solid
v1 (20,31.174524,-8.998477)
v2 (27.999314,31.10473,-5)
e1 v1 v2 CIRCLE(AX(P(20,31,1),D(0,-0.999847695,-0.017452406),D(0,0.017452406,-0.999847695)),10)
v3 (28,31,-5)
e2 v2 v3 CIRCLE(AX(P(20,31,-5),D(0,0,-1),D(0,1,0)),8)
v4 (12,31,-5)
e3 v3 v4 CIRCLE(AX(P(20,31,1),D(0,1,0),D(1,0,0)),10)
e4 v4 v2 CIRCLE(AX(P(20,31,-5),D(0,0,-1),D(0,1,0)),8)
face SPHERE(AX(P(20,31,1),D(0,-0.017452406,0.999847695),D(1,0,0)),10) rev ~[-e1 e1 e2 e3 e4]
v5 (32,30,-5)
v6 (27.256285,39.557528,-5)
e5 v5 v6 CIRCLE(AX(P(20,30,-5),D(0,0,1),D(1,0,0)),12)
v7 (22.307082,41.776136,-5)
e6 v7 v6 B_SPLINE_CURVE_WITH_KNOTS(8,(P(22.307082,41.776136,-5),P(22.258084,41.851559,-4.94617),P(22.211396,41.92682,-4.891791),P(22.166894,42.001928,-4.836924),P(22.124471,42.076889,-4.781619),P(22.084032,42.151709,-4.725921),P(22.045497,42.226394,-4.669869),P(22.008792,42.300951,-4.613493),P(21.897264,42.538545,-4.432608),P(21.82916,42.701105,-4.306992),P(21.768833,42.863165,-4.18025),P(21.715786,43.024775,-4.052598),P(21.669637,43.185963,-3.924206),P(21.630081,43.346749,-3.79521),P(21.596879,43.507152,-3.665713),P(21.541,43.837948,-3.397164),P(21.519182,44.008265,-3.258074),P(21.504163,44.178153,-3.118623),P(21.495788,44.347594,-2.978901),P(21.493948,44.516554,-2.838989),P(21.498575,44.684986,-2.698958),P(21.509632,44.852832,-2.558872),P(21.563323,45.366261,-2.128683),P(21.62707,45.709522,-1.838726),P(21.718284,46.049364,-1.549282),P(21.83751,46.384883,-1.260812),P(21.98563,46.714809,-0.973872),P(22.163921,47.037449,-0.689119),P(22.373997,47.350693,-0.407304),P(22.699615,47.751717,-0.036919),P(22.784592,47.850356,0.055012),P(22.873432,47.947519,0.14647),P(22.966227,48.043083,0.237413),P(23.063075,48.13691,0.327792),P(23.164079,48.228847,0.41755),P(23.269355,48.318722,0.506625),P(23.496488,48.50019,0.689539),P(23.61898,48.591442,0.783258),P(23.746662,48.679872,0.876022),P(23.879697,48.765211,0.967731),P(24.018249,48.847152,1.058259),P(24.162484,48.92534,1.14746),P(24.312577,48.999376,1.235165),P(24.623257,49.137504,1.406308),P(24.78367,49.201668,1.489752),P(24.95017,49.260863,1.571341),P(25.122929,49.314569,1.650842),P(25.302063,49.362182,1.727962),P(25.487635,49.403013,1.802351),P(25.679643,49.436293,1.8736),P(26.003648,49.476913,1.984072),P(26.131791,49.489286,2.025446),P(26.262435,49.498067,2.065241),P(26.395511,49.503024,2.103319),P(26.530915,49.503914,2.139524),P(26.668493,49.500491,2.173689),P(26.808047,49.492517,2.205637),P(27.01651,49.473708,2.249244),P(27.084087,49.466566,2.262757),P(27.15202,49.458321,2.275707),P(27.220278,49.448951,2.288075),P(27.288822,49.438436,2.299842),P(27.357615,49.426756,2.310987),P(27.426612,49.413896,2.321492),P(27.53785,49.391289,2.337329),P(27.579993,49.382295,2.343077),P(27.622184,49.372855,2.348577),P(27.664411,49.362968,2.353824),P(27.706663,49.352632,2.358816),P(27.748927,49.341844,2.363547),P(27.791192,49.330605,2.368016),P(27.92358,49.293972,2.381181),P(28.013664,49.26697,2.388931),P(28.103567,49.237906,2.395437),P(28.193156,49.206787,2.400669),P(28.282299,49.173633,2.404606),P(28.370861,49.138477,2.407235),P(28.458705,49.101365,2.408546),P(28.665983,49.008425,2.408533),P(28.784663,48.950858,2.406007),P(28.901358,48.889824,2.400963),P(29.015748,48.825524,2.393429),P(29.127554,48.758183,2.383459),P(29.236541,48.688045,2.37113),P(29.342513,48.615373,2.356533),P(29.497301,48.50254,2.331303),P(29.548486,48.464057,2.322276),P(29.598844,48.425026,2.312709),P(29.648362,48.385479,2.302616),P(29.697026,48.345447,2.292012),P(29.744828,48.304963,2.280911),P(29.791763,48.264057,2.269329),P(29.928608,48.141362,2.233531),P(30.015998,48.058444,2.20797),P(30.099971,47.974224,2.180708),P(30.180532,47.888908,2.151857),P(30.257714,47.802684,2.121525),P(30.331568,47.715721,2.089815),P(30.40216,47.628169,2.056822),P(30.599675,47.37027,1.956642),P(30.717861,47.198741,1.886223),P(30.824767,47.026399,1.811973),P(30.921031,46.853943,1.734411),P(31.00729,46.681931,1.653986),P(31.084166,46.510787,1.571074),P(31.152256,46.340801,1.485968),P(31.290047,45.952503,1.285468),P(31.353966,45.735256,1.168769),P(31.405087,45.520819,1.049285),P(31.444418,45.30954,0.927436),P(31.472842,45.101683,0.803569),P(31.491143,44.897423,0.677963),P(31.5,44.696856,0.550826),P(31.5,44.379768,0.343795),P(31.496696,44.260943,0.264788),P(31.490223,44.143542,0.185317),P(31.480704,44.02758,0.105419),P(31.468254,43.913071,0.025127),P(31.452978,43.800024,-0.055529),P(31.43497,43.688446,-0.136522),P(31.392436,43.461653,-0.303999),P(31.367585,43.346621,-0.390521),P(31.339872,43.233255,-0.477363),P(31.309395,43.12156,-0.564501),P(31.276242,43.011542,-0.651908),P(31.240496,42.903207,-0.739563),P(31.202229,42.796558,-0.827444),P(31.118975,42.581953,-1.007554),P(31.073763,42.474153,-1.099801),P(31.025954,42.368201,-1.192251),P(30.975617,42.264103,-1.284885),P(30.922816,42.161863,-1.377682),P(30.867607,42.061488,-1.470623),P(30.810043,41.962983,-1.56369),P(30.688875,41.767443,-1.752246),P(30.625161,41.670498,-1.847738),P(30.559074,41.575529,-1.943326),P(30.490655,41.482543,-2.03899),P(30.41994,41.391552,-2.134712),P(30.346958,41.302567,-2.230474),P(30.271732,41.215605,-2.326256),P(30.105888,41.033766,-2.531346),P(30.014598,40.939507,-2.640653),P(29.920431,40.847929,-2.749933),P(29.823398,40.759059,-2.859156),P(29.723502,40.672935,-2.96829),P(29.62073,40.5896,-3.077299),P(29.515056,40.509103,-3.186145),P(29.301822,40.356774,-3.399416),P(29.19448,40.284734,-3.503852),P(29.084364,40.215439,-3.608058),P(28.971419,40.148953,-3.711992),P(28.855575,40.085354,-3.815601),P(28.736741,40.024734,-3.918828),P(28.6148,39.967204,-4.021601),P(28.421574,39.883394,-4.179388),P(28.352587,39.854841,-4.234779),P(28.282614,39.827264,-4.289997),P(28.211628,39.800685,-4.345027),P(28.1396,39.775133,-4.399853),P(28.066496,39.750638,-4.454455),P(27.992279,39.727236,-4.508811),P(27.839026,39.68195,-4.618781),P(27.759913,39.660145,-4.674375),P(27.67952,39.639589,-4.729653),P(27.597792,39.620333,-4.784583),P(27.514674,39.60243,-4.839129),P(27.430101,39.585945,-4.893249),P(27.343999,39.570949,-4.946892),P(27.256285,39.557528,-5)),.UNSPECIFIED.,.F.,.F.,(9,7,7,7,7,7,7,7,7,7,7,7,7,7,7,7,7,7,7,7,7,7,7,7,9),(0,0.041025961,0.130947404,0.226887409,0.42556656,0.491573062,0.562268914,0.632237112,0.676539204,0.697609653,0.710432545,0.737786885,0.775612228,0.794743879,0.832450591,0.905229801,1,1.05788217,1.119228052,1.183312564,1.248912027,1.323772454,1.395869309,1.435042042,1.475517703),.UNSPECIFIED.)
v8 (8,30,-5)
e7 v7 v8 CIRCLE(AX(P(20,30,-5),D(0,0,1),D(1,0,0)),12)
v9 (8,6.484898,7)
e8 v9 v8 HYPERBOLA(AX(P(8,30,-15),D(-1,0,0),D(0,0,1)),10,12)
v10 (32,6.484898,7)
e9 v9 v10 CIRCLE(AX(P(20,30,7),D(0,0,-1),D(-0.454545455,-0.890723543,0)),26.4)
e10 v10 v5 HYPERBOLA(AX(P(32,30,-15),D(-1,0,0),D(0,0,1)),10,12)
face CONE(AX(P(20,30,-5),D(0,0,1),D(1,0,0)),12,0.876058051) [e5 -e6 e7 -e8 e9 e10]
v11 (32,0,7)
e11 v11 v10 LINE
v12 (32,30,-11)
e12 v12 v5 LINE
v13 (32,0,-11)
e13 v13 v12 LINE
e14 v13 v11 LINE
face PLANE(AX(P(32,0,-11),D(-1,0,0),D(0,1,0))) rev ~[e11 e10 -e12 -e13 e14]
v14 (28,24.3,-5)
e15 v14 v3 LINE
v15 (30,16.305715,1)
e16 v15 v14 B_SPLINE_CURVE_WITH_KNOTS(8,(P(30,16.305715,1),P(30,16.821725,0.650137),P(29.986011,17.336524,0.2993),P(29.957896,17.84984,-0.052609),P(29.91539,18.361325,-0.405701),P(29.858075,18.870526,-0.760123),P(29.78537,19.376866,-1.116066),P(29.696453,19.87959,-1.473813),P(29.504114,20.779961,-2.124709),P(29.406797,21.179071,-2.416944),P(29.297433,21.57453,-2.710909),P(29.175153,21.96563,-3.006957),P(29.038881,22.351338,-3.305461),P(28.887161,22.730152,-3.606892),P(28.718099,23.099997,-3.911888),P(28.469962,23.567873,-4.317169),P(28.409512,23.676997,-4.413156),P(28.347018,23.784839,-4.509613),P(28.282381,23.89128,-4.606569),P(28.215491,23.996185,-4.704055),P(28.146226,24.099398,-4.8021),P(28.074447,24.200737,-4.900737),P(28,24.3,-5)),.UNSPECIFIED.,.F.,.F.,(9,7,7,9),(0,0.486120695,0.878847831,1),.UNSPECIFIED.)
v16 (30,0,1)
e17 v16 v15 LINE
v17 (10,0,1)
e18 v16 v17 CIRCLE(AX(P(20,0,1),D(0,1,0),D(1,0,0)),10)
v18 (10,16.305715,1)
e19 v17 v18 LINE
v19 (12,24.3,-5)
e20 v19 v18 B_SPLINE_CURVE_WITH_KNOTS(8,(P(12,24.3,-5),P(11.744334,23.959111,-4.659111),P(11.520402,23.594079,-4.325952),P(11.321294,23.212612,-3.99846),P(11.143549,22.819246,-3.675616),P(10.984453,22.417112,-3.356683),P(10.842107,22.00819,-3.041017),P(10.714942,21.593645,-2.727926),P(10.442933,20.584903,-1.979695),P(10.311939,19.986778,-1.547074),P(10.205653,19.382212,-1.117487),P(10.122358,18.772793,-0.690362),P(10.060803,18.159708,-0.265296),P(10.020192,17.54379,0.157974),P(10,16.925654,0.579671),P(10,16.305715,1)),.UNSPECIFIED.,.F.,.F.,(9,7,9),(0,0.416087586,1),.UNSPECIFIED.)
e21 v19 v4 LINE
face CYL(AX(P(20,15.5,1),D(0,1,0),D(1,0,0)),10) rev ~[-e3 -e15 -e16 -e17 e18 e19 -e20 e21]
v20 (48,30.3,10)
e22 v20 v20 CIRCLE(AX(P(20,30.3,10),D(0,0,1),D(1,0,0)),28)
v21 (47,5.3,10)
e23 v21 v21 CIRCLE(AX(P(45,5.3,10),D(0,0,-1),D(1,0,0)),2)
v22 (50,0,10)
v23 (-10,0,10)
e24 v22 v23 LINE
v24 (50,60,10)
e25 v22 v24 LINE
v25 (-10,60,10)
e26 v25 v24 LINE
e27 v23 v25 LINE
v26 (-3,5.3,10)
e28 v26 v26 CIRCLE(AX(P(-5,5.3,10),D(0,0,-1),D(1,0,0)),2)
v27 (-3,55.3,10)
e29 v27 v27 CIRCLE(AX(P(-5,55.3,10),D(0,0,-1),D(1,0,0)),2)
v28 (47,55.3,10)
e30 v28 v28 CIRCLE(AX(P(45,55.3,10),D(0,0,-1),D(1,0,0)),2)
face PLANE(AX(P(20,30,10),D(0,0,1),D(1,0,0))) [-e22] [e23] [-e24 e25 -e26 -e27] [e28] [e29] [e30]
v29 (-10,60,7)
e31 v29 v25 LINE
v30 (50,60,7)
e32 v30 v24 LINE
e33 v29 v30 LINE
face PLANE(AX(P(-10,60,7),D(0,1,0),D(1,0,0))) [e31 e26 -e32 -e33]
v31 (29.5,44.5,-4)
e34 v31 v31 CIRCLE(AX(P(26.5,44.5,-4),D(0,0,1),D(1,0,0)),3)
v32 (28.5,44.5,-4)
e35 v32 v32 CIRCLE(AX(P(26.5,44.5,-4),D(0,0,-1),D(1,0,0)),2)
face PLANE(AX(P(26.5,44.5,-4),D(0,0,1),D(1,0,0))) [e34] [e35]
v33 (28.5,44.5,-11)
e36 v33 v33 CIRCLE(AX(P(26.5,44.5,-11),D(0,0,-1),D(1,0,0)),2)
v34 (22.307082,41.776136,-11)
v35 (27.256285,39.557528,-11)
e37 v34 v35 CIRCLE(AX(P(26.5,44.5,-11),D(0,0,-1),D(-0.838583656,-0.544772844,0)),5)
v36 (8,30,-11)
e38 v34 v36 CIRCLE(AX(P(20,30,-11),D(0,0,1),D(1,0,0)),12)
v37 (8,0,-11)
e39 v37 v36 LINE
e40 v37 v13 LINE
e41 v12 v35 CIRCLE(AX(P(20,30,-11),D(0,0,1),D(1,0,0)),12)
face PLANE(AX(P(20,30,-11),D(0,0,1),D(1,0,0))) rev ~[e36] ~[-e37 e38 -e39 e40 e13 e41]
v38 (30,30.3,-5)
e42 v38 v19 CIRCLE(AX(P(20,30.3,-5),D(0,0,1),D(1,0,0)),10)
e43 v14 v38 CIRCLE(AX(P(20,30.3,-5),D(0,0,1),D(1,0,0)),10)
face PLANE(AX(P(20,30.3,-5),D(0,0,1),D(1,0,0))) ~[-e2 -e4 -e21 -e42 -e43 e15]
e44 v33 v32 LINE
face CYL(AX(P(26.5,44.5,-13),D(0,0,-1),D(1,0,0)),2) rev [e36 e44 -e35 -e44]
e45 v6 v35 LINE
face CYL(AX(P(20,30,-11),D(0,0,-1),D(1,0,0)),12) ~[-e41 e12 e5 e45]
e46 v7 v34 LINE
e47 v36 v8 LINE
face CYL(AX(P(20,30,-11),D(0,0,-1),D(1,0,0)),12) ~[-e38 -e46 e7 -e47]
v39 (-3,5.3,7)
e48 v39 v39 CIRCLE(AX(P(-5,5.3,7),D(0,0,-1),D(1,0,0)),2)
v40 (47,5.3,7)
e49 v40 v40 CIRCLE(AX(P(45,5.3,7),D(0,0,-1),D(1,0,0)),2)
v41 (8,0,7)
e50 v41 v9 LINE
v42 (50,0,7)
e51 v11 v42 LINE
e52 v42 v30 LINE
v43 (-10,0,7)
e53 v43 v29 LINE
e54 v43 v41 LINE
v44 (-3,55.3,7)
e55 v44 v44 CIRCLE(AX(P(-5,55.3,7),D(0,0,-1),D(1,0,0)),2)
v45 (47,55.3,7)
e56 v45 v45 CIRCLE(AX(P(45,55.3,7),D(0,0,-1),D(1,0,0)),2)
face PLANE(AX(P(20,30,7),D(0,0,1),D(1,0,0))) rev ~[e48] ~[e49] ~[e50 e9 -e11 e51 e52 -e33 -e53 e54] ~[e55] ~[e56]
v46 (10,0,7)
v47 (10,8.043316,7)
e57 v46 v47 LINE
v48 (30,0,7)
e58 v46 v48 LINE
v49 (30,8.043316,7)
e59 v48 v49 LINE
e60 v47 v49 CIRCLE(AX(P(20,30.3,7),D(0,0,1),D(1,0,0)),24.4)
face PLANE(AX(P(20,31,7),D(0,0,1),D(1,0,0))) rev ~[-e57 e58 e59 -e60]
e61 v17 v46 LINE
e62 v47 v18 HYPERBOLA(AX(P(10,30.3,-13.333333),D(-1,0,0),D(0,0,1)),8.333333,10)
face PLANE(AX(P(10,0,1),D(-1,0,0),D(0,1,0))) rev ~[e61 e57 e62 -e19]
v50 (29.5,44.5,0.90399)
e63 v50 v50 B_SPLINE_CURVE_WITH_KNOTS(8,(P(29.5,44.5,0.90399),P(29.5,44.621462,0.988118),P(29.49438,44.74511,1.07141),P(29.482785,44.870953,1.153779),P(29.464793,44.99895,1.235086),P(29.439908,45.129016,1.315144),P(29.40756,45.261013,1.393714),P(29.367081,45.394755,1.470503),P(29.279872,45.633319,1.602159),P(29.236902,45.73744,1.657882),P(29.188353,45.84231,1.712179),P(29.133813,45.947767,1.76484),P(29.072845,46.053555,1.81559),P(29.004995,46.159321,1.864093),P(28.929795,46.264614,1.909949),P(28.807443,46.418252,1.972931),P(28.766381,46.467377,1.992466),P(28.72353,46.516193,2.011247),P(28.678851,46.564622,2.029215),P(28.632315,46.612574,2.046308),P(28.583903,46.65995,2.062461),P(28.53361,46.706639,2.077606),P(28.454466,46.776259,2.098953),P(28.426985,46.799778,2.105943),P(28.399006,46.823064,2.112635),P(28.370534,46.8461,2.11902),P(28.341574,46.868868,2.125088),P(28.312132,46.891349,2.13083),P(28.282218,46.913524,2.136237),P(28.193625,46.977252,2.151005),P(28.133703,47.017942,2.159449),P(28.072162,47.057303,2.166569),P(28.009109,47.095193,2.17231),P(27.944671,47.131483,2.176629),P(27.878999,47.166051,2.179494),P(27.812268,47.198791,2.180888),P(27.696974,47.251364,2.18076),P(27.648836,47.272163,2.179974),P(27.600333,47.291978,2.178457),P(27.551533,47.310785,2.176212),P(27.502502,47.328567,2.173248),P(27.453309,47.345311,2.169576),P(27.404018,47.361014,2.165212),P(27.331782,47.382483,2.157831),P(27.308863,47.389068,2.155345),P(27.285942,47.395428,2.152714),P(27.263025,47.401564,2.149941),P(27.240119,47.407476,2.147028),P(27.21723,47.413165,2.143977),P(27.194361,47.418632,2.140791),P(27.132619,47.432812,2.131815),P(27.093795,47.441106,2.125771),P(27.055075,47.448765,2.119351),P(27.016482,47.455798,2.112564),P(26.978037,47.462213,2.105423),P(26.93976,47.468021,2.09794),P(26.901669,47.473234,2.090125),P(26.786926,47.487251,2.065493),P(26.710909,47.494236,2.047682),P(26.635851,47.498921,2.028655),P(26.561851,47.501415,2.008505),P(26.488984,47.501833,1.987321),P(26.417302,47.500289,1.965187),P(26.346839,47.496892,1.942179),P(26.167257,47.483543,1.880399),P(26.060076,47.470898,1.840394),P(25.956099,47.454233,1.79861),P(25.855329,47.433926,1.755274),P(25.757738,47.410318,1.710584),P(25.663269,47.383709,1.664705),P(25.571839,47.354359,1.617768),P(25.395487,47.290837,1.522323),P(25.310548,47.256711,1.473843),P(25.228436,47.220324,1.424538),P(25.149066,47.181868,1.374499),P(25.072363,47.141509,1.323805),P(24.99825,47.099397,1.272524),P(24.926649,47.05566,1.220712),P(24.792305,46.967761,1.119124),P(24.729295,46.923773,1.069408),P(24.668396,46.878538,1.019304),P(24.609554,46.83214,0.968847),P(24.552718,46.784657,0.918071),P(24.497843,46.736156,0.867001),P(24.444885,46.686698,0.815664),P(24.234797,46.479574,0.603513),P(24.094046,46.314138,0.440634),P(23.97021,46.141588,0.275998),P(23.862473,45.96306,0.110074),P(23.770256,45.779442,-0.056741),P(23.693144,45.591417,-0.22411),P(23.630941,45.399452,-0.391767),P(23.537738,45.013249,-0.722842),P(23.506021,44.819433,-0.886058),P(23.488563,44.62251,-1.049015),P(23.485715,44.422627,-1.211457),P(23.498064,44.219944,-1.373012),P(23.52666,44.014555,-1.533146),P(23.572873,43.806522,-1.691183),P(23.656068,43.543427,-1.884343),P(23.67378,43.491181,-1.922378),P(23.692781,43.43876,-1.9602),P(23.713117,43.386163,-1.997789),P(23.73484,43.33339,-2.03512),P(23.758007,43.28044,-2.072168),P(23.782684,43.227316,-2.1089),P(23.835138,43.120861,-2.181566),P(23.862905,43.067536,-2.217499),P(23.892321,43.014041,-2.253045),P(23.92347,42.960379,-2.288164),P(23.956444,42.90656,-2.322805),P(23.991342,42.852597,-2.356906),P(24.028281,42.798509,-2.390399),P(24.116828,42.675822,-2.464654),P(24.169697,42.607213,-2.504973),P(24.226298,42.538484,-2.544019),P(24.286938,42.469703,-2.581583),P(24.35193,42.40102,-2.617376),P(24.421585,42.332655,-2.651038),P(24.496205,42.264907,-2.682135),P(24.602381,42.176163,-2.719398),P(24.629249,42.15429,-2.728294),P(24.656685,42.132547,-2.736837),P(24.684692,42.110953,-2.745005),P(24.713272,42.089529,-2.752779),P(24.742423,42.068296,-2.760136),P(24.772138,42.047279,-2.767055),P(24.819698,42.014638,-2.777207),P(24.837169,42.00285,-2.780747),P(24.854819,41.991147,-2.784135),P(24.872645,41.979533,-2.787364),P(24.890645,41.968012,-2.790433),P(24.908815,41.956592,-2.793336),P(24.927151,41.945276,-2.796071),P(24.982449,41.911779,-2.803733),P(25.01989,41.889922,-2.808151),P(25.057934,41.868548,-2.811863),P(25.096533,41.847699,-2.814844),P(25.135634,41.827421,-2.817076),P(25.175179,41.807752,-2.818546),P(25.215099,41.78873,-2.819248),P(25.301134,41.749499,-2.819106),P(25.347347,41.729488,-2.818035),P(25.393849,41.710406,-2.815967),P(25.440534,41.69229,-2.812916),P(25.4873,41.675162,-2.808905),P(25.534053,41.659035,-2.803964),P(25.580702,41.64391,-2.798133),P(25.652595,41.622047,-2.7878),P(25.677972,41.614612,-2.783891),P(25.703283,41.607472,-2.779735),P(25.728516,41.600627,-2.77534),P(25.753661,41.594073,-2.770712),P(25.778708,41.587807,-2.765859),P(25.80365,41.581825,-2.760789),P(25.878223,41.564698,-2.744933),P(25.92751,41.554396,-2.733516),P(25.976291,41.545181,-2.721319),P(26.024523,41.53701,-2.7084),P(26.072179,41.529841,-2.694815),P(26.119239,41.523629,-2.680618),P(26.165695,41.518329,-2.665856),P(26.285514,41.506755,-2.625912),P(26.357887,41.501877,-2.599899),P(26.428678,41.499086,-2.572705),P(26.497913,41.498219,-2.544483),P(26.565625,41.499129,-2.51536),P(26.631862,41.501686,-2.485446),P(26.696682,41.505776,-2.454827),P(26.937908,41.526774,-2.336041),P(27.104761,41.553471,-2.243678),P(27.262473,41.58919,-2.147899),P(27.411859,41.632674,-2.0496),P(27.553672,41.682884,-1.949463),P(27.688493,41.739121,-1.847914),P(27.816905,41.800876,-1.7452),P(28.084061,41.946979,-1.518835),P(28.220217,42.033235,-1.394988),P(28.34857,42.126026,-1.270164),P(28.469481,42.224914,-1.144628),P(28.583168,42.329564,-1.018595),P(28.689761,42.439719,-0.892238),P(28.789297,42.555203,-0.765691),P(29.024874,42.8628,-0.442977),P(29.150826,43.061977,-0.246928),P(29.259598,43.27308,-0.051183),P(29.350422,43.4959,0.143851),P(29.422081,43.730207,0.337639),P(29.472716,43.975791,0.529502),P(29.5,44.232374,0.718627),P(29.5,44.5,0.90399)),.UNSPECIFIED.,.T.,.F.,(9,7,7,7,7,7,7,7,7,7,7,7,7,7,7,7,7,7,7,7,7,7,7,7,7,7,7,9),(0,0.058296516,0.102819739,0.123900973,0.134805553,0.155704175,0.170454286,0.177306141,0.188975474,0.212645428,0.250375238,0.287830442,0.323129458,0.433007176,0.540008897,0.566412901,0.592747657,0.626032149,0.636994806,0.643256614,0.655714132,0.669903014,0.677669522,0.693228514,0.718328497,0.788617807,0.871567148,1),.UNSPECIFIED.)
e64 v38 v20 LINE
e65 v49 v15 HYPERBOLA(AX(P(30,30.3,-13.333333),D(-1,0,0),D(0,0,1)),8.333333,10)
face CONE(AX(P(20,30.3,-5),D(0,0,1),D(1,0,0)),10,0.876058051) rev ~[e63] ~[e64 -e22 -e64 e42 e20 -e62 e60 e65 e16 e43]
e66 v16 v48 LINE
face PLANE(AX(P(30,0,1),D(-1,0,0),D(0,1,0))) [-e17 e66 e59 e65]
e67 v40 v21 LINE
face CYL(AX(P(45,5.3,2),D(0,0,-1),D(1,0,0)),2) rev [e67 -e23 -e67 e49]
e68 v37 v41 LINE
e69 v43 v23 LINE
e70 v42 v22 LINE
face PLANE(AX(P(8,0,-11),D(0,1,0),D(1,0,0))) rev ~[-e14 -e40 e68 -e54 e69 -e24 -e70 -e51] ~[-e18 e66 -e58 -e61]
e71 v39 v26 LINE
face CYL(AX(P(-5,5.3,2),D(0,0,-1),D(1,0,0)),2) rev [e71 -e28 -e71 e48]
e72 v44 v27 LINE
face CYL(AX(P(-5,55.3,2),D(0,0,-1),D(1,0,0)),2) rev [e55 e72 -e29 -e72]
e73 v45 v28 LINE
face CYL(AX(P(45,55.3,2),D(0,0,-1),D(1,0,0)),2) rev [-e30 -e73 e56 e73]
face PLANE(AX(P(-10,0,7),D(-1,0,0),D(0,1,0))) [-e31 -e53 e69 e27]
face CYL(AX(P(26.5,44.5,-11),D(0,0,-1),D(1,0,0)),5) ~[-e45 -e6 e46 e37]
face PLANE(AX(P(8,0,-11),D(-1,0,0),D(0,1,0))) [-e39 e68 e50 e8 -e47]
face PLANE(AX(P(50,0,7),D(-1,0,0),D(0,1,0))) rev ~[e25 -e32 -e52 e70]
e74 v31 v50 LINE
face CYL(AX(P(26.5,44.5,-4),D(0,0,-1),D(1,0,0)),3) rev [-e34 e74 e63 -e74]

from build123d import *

# Parameters (mm, degrees)
CYLINDER002003_R     = 2
CYLINDER002003_DEPTH = 30
CYLINDER002004_R     = 3
CYLINDER002004_DEPTH = 11
CYLINDER_W           = 10
CYLINDER_H           = 31
CYLINDER_ANGLE       = 180
CYLINDER_ROLL_ANGLE  = -90
CYLINDER002006_R     = 10
CYLINDER002006_DEPTH = 6
SPHERE001_ROLL_ANGLE = 1
BOX008_W             = 20
BOX008_H             = 31
BOX008_DEPTH         = 6
CYLINDER006_R        = 2
CYLINDER006_DEPTH    = 10
CYLINDER008_R        = 2
CYLINDER008_DEPTH    = 10
CYLINDER007_R        = 2
CYLINDER007_DEPTH    = 10
CYLINDER005_R        = 2
CYLINDER005_DEPTH    = 10
CYLINDER001_R        = 12
CYLINDER001_DEPTH    = 12
BOX003_W             = 24
BOX003_H             = 30
BOX003_DEPTH         = 18
BOX_W                = 60
BOX_H                = 60
BOX_DEPTH            = 3
CYLINDER002002_R     = 5
CYLINDER002002_DEPTH = 15


with BuildPart() as haltebohrungoben:
    # Cylinder002003 → Cylinder002003 (new body)
    with BuildSketch(Plane(origin=(26.5, 44.5, -13), x_dir=(1, 0, 0), z_dir=(0, 0, 1))):
        Circle(CYLINDER002003_R)
    extrude(amount=CYLINDER002003_DEPTH)


with BuildPart() as schnittkegel:
    # Cone003 → Cone003 (revolve)
    with BuildSketch(Plane(origin=(20, 30.3, -5), x_dir=(1, 0, 0), z_dir=(0, -1, 0))):
        Polygon((0, 0), (10, 0), (28, 15), (0, 15), align=None)
    revolve(axis=Axis((20, 30.3, -5), (0, 0, 1)))


with BuildPart() as haltesenkeoben:
    # Cylinder002004 → Cylinder002004 (new body)
    with BuildSketch(Plane(origin=(26.5, 44.5, -4), x_dir=(1, 0, 0), z_dir=(0, 0, 1))):
        Circle(CYLINDER002004_R)
    extrude(amount=CYLINDER002004_DEPTH)


with BuildPart() as zylinder:
    # Cylinder → Cylinder (revolve)
    with BuildSketch(Plane.XZ):
        with Locations((5, 15.5)):
            Rectangle(CYLINDER_W, CYLINDER_H)
    revolve(axis=Axis((0, 0, 0), (0, 0, 1)), revolution_arc=CYLINDER_ANGLE)


with BuildPart() as zylinder_1:
    # Cylinder roll: moved
    add(zylinder.part.rotate(Axis((0, 0, 0), (1, 0, 0)), CYLINDER_ROLL_ANGLE))


with BuildPart() as zylinder_2:
    # Cylinder placement: moved
    add(zylinder_1.part.moved(Location((20, -11, 1))))


with BuildPart() as zylinder014:
    # Cylinder002006 → Cylinder002006 (new body)
    with BuildSketch(Plane(origin=(20, 20, 1), x_dir=(1, 0, 0), z_dir=(0, 0, 1))):
        Circle(CYLINDER002006_R)
    extrude(amount=CYLINDER002006_DEPTH)


with BuildPart() as kugel001:
    # Sphere001 → Sphere001 (revolve)
    with BuildSketch(Plane.XZ):
        with BuildLine():
            ThreePointArc((0, -10), (10, 0), (0, 10))
            Line((0, 10), (0, -10))
        make_face()
    revolve(axis=Axis((0, 0, 0), (0, 0, 1)))


with BuildPart() as kugel001_1:
    # Sphere001 roll: moved
    add(kugel001.part.rotate(Axis((0, 0, 0), (1, 0, 0)), SPHERE001_ROLL_ANGLE))


with BuildPart() as kugel001_2:
    # Sphere001 placement: moved
    add(kugel001_1.part.moved(Location((20, 20, 1))))


with BuildPart() as luftschacht:
    # Box008 → Box008 (new body)
    with BuildSketch(Plane(origin=(10, -11, 1), x_dir=(1, 0, 0), z_dir=(0, 0, 1))):
        with Locations((10, 15.5)):
            Rectangle(BOX008_W, BOX008_H)
    extrude(amount=BOX008_DEPTH)

    # Fusion011: union Zylinder, Zylinder014, Kugel001
    add(zylinder_2.part)
    add(zylinder014.part)
    add(kugel001_2.part)


with BuildPart() as luftschacht_1:
    # Fusion011 placement: moved
    add(luftschacht.part.moved(Location((0, 11, 0))))


with BuildPart() as zylinder006:
    # Cylinder006 → Cylinder006 (new body)
    with BuildSketch(Plane(origin=(0, 50, 0), x_dir=(1, 0, 0), z_dir=(0, 0, 1))):
        Circle(CYLINDER006_R)
    extrude(amount=CYLINDER006_DEPTH)


with BuildPart() as zylinder008:
    # Cylinder008 → Cylinder008 (new body)
    with BuildSketch(Plane(origin=(50, 50, 0), x_dir=(1, 0, 0), z_dir=(0, 0, 1))):
        Circle(CYLINDER008_R)
    extrude(amount=CYLINDER008_DEPTH)


with BuildPart() as zylinder007:
    # Cylinder007 → Cylinder007 (new body)
    with BuildSketch(Plane(origin=(50, 0, 0), x_dir=(1, 0, 0), z_dir=(0, 0, 1))):
        Circle(CYLINDER007_R)
    extrude(amount=CYLINDER007_DEPTH)


with BuildPart() as hohlraum:
    # Cylinder005 → Cylinder005 (new body)
    with BuildSketch(Plane.XY):
        Circle(CYLINDER005_R)
    extrude(amount=CYLINDER005_DEPTH)

    # Fusion008: union Zylinder006, Zylinder008, Zylinder007
    add(zylinder006.part)
    add(zylinder008.part)
    add(zylinder007.part)


with BuildPart() as hohlraum_1:
    # Fusion008 placement: moved
    add(hohlraum.part.moved(Location((-5, 5.3, 2))))

    # Fusion012: union HalteBohrungOben, SchnittKegel, HalteSenkeOben, LuftSchacht
    add(haltebohrungoben.part)
    add(schnittkegel.part)
    add(haltesenkeoben.part)
    add(luftschacht_1.part)


with BuildPart() as zylinder001:
    # Cylinder001 → Cylinder001 (new body)
    with BuildSketch(Plane(origin=(20, 20, -11), x_dir=(1, 0, 0), z_dir=(0, 0, 1))):
        Circle(CYLINDER001_R)
    extrude(amount=CYLINDER001_DEPTH)


with BuildPart() as aussen:
    # Box003 → Box003 (new body)
    with BuildSketch(Plane(origin=(8, -10, -11), x_dir=(1, 0, 0), z_dir=(0, 0, 1))):
        with Locations((12, 15)):
            Rectangle(BOX003_W, BOX003_H)
    extrude(amount=BOX003_DEPTH)

    # Fusion003: union Zylinder001
    add(zylinder001.part)


with BuildPart() as aussen_1:
    # Fusion003 placement: moved
    add(aussen.part.moved(Location((0, 10, 0))))


with BuildPart() as w_rfel:
    # Box → Box (new body)
    with BuildSketch(Plane(origin=(-10, 0, 7), x_dir=(1, 0, 0), z_dir=(0, 0, 1))):
        with Locations((30, 30)):
            Rectangle(BOX_W, BOX_H)
    extrude(amount=BOX_DEPTH)


with BuildPart() as wall:
    # Cone001 → Cone001 (revolve)
    with BuildSketch(Plane(origin=(20, 30, -5), x_dir=(1, 0, 0), z_dir=(0, -1, 0))):
        Polygon((0, 0), (12, 0), (30, 15), (0, 15), align=None)
    revolve(axis=Axis((20, 30, -5), (0, 0, 1)))

    # Fusion: union Würfel
    add(w_rfel.part)

    # Fusion006: union aussen
    add(aussen_1.part)


with BuildPart() as fanduct:
    # Cylinder002002 → Cylinder002002 (new body)
    with BuildSketch(Plane(origin=(26.5, 44.5, -11), x_dir=(1, 0, 0), z_dir=(0, 0, 1))):
        Circle(CYLINDER002002_R)
    extrude(amount=CYLINDER002002_DEPTH)

    # Fusion013: union Wall
    add(wall.part)

    # Cut: cut Hohlraum
    add(hohlraum_1.part, mode=Mode.SUBTRACT)


solid = fanduct.part
